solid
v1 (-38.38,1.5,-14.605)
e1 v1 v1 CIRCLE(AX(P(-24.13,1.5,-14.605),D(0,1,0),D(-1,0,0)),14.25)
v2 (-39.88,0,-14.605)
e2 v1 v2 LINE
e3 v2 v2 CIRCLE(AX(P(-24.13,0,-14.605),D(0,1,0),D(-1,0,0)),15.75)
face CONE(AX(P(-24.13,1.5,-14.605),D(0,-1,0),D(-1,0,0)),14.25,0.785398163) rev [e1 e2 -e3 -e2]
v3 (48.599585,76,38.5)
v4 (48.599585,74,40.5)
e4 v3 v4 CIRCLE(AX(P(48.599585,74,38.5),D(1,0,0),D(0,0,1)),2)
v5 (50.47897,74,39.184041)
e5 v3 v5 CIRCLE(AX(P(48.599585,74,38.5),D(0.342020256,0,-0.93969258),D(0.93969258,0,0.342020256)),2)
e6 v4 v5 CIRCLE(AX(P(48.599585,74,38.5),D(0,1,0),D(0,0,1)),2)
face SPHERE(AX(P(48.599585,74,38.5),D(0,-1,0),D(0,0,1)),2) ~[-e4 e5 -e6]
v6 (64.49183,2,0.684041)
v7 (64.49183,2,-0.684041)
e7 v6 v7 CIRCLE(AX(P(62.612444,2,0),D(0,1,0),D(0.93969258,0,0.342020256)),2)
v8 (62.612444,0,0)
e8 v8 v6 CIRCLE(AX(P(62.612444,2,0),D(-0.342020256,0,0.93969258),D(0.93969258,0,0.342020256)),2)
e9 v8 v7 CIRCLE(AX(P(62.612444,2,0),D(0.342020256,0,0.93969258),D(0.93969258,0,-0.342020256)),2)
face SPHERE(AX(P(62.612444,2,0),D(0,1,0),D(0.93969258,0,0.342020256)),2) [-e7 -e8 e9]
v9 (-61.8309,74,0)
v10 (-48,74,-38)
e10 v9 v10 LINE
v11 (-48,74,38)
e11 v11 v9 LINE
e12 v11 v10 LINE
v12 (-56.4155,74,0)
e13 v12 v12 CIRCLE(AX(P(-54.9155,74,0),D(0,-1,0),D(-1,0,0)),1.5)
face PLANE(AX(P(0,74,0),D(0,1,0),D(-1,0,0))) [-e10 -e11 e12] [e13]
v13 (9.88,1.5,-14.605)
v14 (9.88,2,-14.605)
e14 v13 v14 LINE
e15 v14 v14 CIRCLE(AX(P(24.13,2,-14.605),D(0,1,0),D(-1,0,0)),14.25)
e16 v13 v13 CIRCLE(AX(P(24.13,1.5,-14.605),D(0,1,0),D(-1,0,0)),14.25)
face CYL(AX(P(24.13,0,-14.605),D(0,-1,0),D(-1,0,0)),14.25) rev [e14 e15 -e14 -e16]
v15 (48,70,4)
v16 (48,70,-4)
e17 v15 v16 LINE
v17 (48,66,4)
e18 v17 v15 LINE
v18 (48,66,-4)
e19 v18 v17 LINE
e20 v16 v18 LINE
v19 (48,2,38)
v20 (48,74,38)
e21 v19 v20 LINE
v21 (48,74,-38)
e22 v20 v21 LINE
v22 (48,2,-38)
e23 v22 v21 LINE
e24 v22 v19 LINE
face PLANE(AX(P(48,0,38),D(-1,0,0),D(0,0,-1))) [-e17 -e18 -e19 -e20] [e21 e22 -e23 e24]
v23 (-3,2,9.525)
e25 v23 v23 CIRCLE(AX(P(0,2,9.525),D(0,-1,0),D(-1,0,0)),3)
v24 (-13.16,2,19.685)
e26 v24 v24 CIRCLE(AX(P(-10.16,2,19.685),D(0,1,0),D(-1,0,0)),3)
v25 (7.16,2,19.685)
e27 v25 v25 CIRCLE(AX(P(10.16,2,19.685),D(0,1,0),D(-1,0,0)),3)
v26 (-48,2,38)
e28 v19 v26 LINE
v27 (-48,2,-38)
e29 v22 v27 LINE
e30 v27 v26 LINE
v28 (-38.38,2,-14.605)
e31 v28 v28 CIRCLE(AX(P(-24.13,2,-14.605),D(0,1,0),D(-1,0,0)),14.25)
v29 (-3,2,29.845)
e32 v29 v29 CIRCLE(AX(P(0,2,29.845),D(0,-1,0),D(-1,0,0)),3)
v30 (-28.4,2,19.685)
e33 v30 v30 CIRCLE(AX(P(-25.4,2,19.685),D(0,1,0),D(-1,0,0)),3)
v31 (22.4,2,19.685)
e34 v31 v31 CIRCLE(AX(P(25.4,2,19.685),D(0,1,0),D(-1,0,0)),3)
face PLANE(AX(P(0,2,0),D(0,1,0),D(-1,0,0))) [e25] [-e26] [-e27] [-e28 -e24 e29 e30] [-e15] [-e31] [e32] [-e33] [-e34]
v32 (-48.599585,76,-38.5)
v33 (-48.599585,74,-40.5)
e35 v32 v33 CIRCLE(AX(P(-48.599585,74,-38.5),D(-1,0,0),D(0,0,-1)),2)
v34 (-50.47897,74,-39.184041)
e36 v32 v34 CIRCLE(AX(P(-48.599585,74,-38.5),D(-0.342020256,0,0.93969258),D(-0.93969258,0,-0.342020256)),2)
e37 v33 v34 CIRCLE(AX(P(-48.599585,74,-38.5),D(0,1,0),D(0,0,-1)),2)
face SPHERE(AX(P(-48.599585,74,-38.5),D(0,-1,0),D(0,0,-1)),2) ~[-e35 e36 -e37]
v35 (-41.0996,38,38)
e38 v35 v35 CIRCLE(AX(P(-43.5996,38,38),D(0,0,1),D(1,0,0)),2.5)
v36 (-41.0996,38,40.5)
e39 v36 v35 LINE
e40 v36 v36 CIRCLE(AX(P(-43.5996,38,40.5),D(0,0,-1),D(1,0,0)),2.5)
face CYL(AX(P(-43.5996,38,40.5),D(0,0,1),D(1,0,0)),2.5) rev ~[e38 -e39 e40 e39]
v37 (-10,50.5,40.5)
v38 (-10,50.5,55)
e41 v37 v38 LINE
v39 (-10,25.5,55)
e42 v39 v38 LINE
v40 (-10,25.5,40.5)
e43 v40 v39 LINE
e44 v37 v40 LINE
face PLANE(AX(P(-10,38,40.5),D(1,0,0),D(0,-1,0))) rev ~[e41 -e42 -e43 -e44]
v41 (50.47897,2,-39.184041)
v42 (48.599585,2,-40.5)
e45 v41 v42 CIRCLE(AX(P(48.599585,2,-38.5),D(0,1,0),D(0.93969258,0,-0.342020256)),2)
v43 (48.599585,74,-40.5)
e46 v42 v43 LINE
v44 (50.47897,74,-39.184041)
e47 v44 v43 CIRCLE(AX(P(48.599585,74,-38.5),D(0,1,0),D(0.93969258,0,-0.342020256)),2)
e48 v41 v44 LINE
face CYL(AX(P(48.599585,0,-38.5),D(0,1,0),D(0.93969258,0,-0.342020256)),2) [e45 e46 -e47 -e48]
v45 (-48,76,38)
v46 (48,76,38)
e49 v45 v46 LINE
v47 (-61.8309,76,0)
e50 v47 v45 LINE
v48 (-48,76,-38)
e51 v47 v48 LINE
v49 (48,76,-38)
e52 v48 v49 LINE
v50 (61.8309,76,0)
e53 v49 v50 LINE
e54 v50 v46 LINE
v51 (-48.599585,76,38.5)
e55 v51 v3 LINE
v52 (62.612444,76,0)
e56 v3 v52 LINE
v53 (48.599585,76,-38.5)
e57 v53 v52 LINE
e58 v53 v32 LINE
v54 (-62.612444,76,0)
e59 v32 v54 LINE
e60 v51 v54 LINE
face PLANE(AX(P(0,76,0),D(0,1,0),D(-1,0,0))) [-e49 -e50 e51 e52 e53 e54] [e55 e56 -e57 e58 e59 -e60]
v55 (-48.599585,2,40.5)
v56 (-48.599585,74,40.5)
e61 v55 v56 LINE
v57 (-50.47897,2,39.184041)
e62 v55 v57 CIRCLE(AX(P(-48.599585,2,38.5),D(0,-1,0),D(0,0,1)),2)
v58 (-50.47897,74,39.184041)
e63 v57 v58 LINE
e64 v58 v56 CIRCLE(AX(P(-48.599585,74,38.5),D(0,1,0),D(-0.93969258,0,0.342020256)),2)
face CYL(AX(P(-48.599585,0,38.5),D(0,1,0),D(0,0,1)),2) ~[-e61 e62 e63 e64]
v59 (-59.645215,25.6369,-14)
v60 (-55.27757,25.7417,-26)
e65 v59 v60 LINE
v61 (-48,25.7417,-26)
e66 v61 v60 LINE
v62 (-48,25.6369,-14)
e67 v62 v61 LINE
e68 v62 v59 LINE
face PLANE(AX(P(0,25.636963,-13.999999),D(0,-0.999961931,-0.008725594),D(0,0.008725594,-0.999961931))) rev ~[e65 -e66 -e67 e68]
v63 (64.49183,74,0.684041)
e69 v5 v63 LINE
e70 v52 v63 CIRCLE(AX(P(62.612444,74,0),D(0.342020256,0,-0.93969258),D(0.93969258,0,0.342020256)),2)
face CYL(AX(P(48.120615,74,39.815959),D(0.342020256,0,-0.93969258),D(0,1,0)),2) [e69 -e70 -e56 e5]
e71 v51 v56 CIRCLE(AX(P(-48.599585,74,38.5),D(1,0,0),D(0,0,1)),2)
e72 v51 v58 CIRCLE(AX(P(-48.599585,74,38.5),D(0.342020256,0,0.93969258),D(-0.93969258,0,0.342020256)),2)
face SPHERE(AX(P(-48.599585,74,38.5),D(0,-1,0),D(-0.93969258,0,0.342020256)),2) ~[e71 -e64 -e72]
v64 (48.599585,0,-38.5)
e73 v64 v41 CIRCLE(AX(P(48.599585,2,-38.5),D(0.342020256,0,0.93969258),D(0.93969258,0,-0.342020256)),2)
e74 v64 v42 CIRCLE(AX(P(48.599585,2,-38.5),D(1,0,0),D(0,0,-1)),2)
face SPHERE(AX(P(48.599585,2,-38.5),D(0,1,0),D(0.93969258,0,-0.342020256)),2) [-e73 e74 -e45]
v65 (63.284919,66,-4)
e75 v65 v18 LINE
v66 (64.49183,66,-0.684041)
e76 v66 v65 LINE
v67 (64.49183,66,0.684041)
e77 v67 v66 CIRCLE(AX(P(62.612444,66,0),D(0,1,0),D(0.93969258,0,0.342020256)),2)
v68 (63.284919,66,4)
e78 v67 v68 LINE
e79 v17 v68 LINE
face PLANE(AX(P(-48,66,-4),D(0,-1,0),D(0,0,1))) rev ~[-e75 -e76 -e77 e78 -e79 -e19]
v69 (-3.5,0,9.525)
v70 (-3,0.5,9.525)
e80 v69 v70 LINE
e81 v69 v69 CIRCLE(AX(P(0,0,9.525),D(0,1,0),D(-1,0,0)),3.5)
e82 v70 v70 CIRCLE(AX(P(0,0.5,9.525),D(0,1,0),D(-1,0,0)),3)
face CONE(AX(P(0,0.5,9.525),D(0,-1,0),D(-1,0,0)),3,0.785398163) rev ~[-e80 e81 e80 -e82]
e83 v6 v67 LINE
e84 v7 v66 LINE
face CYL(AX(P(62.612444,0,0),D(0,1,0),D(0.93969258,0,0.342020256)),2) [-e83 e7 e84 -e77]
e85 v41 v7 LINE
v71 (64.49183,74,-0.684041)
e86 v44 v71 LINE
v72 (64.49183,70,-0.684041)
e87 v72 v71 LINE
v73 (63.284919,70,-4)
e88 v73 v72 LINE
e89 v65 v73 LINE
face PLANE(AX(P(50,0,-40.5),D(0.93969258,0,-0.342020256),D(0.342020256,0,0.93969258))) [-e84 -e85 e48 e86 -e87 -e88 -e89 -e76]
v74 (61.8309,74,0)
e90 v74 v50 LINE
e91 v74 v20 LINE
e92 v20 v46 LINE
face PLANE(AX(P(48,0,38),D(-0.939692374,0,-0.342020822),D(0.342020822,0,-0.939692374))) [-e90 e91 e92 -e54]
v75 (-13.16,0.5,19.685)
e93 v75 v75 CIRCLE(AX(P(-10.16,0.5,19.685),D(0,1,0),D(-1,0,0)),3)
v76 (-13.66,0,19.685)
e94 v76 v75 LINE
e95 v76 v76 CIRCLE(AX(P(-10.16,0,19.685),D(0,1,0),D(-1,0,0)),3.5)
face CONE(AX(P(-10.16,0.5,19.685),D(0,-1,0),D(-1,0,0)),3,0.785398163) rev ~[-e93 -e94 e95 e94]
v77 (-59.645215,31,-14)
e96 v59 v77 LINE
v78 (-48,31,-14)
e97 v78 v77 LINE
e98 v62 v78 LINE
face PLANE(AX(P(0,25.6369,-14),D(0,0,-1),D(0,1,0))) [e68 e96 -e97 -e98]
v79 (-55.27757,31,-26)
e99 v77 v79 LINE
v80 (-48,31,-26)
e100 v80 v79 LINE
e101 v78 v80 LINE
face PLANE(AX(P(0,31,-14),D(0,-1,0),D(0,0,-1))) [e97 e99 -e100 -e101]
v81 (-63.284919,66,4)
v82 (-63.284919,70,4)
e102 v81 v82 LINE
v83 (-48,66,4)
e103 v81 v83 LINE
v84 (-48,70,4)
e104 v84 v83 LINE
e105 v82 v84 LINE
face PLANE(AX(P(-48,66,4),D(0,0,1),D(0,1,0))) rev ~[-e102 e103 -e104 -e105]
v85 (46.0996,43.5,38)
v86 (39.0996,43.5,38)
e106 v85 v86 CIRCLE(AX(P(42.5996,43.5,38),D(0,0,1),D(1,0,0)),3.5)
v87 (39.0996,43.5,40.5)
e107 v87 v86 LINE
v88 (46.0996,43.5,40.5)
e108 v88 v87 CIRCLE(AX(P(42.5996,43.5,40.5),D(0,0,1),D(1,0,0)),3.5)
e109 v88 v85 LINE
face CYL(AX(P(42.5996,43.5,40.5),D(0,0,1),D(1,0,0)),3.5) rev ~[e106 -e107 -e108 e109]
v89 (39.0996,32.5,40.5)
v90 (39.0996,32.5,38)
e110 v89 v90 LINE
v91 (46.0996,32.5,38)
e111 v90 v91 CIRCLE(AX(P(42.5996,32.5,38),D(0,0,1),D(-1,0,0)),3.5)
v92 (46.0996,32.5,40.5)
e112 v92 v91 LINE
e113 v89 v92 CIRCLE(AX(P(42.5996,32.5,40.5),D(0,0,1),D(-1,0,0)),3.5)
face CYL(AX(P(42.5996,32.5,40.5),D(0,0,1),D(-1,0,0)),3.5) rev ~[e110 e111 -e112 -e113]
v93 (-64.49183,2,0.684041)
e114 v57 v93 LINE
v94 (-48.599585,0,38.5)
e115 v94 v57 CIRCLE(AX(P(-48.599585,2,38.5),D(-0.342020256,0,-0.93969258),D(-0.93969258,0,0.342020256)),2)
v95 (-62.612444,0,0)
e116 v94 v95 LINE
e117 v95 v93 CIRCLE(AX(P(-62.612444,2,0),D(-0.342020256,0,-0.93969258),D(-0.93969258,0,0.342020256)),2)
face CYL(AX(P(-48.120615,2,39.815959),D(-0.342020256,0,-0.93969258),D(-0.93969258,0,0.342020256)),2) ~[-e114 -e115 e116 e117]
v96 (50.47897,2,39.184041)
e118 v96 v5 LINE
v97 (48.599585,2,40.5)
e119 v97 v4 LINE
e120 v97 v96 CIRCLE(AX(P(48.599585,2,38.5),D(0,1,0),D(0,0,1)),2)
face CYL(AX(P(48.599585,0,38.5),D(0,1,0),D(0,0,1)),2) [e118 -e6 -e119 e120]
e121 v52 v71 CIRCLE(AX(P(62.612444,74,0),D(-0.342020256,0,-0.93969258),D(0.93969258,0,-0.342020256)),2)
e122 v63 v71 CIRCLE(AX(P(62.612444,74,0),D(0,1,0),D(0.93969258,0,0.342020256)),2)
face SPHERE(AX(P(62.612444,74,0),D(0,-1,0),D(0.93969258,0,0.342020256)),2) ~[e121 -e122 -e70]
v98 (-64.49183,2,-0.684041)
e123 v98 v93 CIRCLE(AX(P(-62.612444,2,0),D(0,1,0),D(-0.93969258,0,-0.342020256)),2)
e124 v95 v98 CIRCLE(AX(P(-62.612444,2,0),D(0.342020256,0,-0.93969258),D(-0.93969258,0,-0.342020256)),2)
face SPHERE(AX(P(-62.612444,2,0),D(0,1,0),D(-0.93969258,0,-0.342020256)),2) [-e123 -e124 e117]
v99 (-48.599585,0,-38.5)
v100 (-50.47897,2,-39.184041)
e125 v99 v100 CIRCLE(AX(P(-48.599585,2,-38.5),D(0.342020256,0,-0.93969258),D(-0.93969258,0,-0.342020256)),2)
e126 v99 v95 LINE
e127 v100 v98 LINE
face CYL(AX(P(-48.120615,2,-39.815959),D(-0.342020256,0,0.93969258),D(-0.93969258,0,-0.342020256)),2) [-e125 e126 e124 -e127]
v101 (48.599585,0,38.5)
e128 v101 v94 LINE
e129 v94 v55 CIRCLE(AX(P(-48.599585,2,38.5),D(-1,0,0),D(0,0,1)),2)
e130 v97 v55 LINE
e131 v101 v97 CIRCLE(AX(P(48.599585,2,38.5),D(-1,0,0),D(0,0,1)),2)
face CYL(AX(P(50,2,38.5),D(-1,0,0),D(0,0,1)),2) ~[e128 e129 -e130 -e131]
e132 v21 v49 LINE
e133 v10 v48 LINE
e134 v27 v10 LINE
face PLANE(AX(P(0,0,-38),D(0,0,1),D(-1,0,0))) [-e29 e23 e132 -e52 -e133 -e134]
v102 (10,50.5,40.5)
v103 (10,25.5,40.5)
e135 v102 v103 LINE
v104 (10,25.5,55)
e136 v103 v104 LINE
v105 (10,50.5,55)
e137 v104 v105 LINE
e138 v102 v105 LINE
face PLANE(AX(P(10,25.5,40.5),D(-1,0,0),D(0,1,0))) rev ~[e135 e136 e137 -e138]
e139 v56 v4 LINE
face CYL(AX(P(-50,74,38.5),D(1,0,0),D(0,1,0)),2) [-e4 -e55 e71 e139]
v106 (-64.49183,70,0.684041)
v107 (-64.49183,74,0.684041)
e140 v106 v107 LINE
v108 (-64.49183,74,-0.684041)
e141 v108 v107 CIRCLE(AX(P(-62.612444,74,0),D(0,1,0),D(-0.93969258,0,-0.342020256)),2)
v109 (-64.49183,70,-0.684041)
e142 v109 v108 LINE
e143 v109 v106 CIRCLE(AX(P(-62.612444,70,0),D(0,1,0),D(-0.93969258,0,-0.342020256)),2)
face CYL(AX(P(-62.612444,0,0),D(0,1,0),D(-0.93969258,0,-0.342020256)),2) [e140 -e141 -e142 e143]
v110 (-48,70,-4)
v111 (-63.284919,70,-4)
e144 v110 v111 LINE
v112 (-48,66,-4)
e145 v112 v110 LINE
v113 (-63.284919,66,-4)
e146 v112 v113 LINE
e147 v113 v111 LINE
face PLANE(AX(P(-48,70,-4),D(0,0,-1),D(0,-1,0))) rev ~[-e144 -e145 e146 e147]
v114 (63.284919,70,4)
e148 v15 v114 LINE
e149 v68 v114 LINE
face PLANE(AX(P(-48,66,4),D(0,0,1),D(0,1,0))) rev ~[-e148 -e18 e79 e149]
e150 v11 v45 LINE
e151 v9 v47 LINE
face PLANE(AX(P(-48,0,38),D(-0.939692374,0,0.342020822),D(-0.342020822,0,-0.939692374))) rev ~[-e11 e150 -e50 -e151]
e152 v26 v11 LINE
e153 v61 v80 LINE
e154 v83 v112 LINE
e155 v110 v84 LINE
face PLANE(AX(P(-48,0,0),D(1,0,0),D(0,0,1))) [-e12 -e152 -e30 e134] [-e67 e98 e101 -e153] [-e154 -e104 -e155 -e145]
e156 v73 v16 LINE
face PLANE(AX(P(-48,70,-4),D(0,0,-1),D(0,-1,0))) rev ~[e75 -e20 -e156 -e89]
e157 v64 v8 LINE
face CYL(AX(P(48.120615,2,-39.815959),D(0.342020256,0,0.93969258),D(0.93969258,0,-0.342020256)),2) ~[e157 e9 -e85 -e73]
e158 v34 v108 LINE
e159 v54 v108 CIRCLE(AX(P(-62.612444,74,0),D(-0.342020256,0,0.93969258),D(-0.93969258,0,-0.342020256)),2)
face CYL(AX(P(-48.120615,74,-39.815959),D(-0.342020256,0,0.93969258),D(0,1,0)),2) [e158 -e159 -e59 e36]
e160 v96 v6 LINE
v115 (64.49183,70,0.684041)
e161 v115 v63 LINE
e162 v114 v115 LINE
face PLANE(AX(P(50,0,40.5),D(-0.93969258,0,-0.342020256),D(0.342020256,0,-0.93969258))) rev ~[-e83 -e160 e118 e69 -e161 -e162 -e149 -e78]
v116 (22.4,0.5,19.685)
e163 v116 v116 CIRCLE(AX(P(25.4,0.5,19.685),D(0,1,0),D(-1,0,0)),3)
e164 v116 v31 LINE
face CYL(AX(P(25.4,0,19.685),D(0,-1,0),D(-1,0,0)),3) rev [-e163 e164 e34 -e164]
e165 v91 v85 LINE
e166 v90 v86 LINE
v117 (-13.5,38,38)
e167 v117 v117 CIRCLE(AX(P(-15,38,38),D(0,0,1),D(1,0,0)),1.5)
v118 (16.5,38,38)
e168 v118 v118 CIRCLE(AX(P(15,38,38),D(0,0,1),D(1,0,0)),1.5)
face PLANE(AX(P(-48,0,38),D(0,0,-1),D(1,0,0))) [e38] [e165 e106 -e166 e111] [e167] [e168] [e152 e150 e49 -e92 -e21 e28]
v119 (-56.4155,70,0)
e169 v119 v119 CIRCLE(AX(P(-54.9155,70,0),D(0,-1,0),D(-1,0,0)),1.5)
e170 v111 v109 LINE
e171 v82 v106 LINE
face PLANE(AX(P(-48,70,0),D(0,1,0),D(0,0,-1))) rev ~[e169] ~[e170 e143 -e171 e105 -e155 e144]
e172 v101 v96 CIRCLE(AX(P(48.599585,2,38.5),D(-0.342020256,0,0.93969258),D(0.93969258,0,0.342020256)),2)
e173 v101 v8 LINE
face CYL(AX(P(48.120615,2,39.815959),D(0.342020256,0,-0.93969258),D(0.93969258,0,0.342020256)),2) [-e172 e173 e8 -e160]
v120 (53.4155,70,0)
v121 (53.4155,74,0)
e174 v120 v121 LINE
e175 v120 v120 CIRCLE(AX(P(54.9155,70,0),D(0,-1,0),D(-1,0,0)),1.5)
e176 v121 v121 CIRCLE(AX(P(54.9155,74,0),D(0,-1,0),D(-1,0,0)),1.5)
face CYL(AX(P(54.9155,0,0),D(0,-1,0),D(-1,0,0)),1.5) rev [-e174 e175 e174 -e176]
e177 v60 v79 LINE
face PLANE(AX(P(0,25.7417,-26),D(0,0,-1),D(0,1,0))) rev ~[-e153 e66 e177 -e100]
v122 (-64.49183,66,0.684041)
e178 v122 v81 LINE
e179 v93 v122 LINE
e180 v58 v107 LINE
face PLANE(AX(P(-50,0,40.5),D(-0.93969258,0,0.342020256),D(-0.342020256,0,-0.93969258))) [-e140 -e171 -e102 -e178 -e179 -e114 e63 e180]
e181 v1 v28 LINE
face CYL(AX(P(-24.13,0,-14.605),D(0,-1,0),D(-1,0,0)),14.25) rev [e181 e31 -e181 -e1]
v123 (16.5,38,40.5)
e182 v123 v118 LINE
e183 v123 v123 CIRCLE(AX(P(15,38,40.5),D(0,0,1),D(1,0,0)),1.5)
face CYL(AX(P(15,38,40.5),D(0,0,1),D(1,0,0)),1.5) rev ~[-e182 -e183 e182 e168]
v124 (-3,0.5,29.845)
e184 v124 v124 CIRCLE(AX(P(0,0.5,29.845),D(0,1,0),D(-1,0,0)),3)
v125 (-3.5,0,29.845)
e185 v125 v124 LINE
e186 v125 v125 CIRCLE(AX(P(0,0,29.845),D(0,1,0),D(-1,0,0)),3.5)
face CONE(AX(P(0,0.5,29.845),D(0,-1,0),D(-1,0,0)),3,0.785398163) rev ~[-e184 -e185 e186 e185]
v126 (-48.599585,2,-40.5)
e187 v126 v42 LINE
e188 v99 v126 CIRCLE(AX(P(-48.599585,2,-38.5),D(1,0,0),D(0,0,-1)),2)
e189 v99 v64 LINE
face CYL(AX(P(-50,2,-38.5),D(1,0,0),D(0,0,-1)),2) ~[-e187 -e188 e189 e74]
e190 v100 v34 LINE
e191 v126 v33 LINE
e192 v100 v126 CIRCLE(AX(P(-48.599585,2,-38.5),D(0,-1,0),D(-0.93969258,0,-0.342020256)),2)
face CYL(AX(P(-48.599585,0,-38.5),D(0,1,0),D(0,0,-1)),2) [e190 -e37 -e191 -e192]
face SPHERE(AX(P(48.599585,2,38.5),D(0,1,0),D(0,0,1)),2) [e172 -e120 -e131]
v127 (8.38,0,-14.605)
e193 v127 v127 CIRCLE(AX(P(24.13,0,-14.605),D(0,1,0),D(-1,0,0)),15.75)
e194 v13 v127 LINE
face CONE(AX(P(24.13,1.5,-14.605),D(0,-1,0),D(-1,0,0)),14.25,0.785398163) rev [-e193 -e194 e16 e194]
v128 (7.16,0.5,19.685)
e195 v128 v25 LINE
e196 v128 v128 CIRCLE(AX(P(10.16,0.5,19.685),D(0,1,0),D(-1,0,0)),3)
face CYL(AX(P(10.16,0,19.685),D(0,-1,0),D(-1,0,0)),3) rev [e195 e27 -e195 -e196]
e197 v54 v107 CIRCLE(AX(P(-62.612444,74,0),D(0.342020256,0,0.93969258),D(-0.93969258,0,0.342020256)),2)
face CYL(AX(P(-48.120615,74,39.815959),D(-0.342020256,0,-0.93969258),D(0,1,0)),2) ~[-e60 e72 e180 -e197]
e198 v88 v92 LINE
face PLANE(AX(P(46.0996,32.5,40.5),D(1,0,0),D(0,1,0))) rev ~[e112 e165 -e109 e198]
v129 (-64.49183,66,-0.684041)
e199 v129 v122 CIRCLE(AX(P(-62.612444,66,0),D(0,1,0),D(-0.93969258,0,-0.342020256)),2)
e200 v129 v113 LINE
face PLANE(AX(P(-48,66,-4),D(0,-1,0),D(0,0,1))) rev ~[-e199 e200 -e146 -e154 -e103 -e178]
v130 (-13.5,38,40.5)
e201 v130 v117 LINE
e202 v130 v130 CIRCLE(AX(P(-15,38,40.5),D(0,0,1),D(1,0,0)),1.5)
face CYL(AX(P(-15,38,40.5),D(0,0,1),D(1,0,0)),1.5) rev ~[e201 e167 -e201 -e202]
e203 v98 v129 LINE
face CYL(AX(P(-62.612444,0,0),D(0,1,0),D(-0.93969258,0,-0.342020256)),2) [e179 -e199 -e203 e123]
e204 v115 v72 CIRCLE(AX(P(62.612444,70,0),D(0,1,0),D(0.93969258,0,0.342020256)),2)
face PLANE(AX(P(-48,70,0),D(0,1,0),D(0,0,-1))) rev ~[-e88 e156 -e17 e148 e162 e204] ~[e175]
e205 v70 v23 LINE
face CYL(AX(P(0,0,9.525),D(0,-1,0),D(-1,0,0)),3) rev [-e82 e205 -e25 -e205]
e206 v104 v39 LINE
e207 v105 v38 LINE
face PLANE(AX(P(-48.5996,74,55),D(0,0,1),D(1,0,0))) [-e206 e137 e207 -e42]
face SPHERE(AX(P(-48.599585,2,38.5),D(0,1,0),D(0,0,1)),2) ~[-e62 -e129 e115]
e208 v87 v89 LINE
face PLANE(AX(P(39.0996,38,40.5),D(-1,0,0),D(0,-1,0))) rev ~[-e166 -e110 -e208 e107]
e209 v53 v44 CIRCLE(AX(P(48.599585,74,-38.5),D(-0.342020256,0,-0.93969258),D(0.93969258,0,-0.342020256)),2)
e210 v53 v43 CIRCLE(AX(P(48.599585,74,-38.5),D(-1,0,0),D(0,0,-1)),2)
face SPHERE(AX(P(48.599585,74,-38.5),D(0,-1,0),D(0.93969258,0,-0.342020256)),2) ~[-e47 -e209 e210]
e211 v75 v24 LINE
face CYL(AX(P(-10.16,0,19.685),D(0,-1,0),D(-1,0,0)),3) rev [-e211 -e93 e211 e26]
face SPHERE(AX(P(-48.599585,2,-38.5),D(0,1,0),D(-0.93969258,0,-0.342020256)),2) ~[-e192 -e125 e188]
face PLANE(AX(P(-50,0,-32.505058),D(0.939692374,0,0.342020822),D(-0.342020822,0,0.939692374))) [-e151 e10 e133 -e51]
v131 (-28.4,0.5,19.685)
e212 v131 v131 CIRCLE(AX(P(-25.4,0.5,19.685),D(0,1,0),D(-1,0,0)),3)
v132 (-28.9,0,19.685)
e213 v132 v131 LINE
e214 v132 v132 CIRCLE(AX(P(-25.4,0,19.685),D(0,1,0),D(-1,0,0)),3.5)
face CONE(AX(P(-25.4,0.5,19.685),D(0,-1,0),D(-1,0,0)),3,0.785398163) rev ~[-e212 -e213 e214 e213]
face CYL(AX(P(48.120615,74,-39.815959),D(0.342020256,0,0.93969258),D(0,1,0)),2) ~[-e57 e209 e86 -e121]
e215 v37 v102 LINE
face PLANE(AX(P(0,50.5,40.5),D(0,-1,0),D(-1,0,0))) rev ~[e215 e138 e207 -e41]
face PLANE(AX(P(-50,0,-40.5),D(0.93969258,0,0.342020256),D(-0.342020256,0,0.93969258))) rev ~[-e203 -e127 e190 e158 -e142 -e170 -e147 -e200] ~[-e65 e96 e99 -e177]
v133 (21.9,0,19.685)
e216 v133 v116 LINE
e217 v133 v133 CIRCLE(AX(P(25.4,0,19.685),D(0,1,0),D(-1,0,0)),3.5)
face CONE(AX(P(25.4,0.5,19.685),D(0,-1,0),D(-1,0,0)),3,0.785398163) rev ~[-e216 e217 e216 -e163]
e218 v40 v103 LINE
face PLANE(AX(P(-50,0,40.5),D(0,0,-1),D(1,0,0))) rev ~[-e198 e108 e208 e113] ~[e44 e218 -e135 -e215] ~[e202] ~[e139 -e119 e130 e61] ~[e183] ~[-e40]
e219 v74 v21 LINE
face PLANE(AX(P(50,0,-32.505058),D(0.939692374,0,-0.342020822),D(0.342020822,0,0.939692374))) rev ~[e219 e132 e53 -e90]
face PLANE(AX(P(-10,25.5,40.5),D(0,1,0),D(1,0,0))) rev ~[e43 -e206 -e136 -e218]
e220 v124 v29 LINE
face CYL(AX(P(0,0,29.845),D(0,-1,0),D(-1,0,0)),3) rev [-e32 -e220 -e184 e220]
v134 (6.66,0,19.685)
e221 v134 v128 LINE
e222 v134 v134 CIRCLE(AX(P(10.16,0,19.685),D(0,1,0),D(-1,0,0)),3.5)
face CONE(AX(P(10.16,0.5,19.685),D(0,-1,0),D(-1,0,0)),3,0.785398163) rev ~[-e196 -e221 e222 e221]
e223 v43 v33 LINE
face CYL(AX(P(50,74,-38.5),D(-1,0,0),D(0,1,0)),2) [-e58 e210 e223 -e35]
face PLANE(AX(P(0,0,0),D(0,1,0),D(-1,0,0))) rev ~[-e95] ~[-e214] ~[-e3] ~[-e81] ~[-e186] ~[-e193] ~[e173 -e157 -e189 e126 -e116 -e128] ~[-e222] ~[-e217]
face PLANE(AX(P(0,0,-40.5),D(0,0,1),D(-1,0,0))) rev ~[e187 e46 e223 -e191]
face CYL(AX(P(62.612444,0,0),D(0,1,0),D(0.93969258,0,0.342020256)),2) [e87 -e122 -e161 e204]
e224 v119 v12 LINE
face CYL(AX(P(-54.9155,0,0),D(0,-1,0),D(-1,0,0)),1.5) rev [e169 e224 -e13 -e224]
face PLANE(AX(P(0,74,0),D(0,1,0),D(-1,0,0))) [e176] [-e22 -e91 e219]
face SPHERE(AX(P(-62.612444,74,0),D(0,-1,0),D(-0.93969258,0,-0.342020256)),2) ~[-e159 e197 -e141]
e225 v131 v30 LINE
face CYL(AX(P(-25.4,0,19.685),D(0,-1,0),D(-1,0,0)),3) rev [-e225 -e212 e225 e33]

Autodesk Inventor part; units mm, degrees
ref_plane "YZ Plane" through (0, 0, 0) normal (1, 0, 0) x (0, 1, 0)
ref_plane "XZ Plane" through (0, 0, 0) normal (0, 1, 0) x (-1, 0, 0)
ref_plane "XY Plane" through (0, 0, 0) normal (0, 0, 1) x (1, 0, 0)
sketch "Sketch4" plane through (0, 0, 0) normal (0, 1, 0) x (-1, 0, 0)
  line L0 (50, 40.5) -> (-50, 40.5)
  line L1 (-50, 40.5) -> (-50, -40.5)
  line L2 (-50, -40.5) -> (50, -40.5)
  line L3 (50, -40.5) -> (50, 40.5)
  line L4 (50, 40.5) -> (-50, -40.5) construction
  line L5 (-50, 40.5) -> (50, -40.5) construction
  line L6 (45.72, 36.195) -> (-45.72, 36.195)
  line L7 (-45.72, 36.195) -> (-45.72, -36.195)
  line L8 (-45.72, -36.195) -> (45.72, -36.195)
  line L9 (45.72, -36.195) -> (45.72, 36.195)
  line L10 (45.72, 36.195) -> (-45.72, -36.195) construction
  line L11 (-45.72, 36.195) -> (45.72, -36.195) construction
  line L12 (48, 38) -> (-48, 38)
  line L13 (-48, 38) -> (-48, -38)
  line L14 (-48, -38) -> (48, -38)
  line L15 (48, -38) -> (48, 38)
  line L16 (48, 38) -> (-48, -38) construction
  line L17 (-48, 38) -> (48, -38) construction
  line L18 (-50, 40.5) -> (-64.7408, 0)
  line L19 (-50, 40.5) -> (-6.9008, 40.5) construction
  line L20 (-50, -40.5) -> (-64.7408, 0)
  line L21 (-50, -40.5) -> (-6.9008, -40.5) construction
  line L22 (0, 0) -> (72.39, 0) construction
  line L23 (0, -40.5) -> (0, 40.5)
  line L24 (50, 40.5) -> (64.7408, 0)
  line L25 (50, -40.5) -> (64.7408, 0)
  line L26 (64.7408, 0) -> (-64.7408, 0)
  circle A0 centre (25.4, 19.685) radius 3
  circle A1 centre (10.16, 19.685) radius 3
  circle A2 centre (-25.4, 19.685) radius 3
  circle A3 centre (-10.16, 19.685) radius 3
  circle A4 centre (0, 29.845) radius 3
  circle A5 centre (0, 9.525) radius 3
  line L27 (45.72, -36.195) -> (48.26, -36.195) construction
  line L28 (43.18, -33.655) -> (5.08, -33.655)
  line L29 (5.08, -33.655) -> (5.08, 4.445)
  line L30 (5.08, 4.445) -> (43.18, 4.445)
  line L31 (43.18, 4.445) -> (43.18, -33.655)
  line L32 (5.08, -14.605) -> (24.13, -14.605) construction
  circle A6 centre (24.13, -14.605) radius 14.25
  line L33 (-43.18, -33.655) -> (-5.08, -33.655)
  line L34 (-5.08, -33.655) -> (-5.08, 4.445)
  line L35 (-5.08, 4.445) -> (-43.18, 4.445)
  line L36 (-43.18, 4.445) -> (-43.18, -33.655)
  circle A7 centre (-24.13, -14.605) radius 14.25
  line L37 (-48, -38) -> (-61.8309, 0)
  line L38 (-48, -38) -> (-7.5612, -38) construction
  line L39 (-48, 38) -> (-61.8309, 0)
  line L40 (-48, 38) -> (-7.5612, 38) construction
  line L41 (48, -38) -> (61.8309, 0)
  line L42 (48, 38) -> (61.8309, 0)
  circle A8 centre (54.9155, 0) radius 1.5
  circle A9 centre (-54.9155, 0) radius 1.5
  point P0 (0, 36.195)
  dimension "d52" = 100
  dimension "d53" = 81
  dimension "d54" = 91.44
  dimension "d55" = 72.39
  dimension "d56" = 96
  dimension "d57" = 76
  dimension "d58" = 110
  dimension "d59" = 110
  dimension "d62" = 6
  dimension "d63" = 20.32
  dimension "d64" = 16.51
  dimension "d65" = 6
  dimension "d66" = 15.24
  dimension "d67" = 6
  dimension "d68" = 6.35
  dimension "d69" = 6
  dimension "d70" = 20.32
  dimension "d73" = 38.1
  dimension "d74" = 38.1
  dimension "d75" = 2.54
  dimension "d76" = 2.54
  dimension "d79" = 28.5
  dimension "d83" = 110
  dimension "d84" = 110
  dimension "d86" = 3
  dimension "d112" = 54.9155
extrude "Extrusion7" add sketch "Sketch4" along normal blind 76 contours L3 L42 L12 L23 L0 | L24 L26 L42 L3 | L23 L12 L39 L1 L0 | L25 L3 L41 L26 | L1 L39 L26 L18 | L2 L23 L14 L41 L3 | L26 L37 L1 L20 | L2 L1 L37 L14 L23
extrude "Extrusion8" add sketch "Sketch4" along normal blind 74 contours L42 L26 A8 L3 | L3 L26 L15 L42 | L26 A8 L41 L3 | L3 L41 L15 L26 | L39 L13 L26 L1 | L1 L26 A9 L39 | L26 L13 L37 L1 | L1 L37 L26 A9
fillet "Fillet4" radius 2 18 edges at (0, 0, -40.5) (-50, 38, -40.5) (0, 76, -40.5) (50, 38, -40.5) (57.3704, 0, -20.25) (57.3704, 76, -20.25) (64.7408, 38, 0) (57.3704, 0, 20.25) (57.3704, 76, 20.25) (50, 38, 40.5) (-57.3704, 0, 20.25) (-50, 38, 40.5) (-57.3704, 76, 20.25) (-64.7408, 38, 0) (0, 0, 40.5) (-57.3704, 0, -20.25) (0, 76, 40.5) (-57.3704, 76, -20.25)
extrude "Extrusion11" add sketch "Sketch4" along normal blind 70 contours A8 L26 | L26 A8 | A9 L26 | L26 A9
sketch "Sketch5" plane through (-48.5996, 74, 40.5) normal (0, 0, 1) x (1, 0, 0)
  line L0 (0, -72) -> (97.1992, -72) projected
  line L1 (97.1992, -72) -> (0, -72)
  line L2 (97.1992, 0) -> (0, 0) projected
  line L3 (0, -72) -> (0, 0)
  line L4 (0, 0) -> (97.1992, 0)
  line L5 (97.1992, 0) -> (97.1992, -72)
  line L6 (97.1992, -36) -> (0, -36)
  line L7 (48.5996, -72) -> (48.5996, 0)
  line L8 (58.5996, -23.5) -> (38.5996, -23.5)
  line L9 (38.5996, -23.5) -> (38.5996, -48.5)
  line L10 (38.5996, -48.5) -> (58.5996, -48.5)
  line L11 (58.5996, -48.5) -> (58.5996, -23.5)
  line L12 (58.5996, -23.5) -> (38.5996, -48.5) construction
  line L13 (38.5996, -23.5) -> (58.5996, -48.5) construction
  circle A0 centre (33.5996, -36) radius 1.5
  circle A1 centre (63.5996, -36) radius 1.5
  line L14 (67.8423, -21) -> (29.3569, -21)
  line L15 (29.3569, -21) -> (29.3569, -51)
  line L16 (29.3569, -51) -> (67.8423, -51)
  line L17 (67.8423, -51) -> (67.8423, -21)
  line L18 (67.8423, -21) -> (29.3569, -51) construction
  line L19 (29.3569, -21) -> (67.8423, -51) construction
  line L20 (91.1992, -30.5) -> (91.1992, -41.5) construction
  line L21 (87.6992, -30.5) -> (87.6992, -41.5)
  line L22 (94.6992, -41.5) -> (94.6992, -30.5)
  arc A2 (94.6992, -30.5) -> (87.6992, -30.5) centre (91.1992, -30.5) ccw
  arc A3 (87.6992, -41.5) -> (94.6992, -41.5) centre (91.1992, -41.5) ccw
  line L23 (97.1992, 0) -> (97.1992, -72) projected
  circle A4 centre (5, -36) radius 2.5
  line L24 (0, -72) -> (0, 0) projected
  point P0 (48.5996, -74)
  point P1 (48.5996, -36)
  point P2 (91.1992, -36)
  dimension "d115" = 20
  dimension "d118" = 3
  dimension "d119" = 15
  dimension "d134" = 25
  dimension "d135" = 30
  dimension "d176" = 5.5
  dimension "d177" = 7
  dimension "d178" = 6
  dimension "d179" = 5
  dimension "d180" = 5
extrude "Extrusion12" add sketch "Sketch5" along normal blind 14.5 contours L10 L9 L6 L7 | L7 L6 L11 L10 | L7 L8 L11 L6 | L6 L9 L8 L7
extrude "Extrusion14" cut sketch "Sketch5" along normal blind 10 and the other way blind 5 contours A0 L6 | L6 A0 | A1 L6 | L6 A1
extrude "Extrusion15" add sketch "Sketch4" along normal blind 2 contours L23 L6 L7 L26 L13 L12 | L12 L15 L26 L9 L6 L23 | L23 A4 A5 L26 L34 L35 L36 L7 L6 | L6 L9 L26 L31 L30 L29 L23 A5 A4 | L15 L14 L23 L8 L9 L26 | L26 L7 L8 L23 L14 L13 | L9 L8 L23 L26 L29 L28 L31 | L26 L36 L33 L34 L23 L8 L7 | L31 L28 L29 L26 | L26 L29 L30 L31 | L36 L35 L34 L26 | L26 L34 L33 L36
chamfer "Chamfer10" distance 1.5 angle 45 2 edges at (38.38, 0, -14.605) (-9.88, 0, -14.605)
chamfer "Chamfer11" distance 0.5 angle 45 6 edges at (28.4, 0, 19.685) (13.16, 0, 19.685) (3, 0, 9.525) (-7.16, 0, 19.685) (3, 0, 29.845) (-22.4, 0, 19.685)
extrude "Extrusion16" cut sketch "Sketch5" against normal up to surface (2.5 mm away) contours A4 L6 | L6 A4 | L22 A3 L21 L6 | L6 L21 A2 L22
sketch "Sketch6" plane through (-48, 74, 38) normal (1, 0, 0) x (0, 0, -1)
  line L0 (38, -4) -> (42, -4)
  line L1 (42, -4) -> (42, -8)
  line L2 (42, -8) -> (38, -8)
  line L3 (38, -8) -> (38, -4)
  line L4 (38, -4) -> (38, -8)
  line L5 (38, -8) -> (34, -8)
  line L6 (34, -8) -> (34, -4)
  line L7 (34, -4) -> (38, -4)
  line L8 (0, 0) -> (76, 0) projected
  point P0 (38, -74)
  point P1 (38, 0)
  dimension "d183" = 4
  dimension "d184" = 4
  dimension "d185" = 4
  dimension "d186" = 4
extrude "Extrusion17" cut sketch "Sketch6" along normal through all both and the other way through all
sketch "Sketch7" plane through (0, 0, 0) normal (1, 0, 0) x (0, 1, 0)
  line L0 (0, 0) -> (0, 38.5) projected
  line L1 (74, 0) -> (76, 0) projected
  line L2 (0, 0) -> (76, 0)
  line L3 (0, 0) -> (76, 0)
  line L4 (76, 0) -> (76, -40.5)
  line L5 (76, -40.5) -> (0, -40.5)
  line L6 (0, -40.5) -> (0, 0)
  line L7 (76, 0) -> (76, 40.5)
  line L8 (76, 40.5) -> (0, 40.5)
  line L9 (0, 40.5) -> (0, 0)
  line L10 (31, 0) -> (31, -40.5)
  line L11 (25.5148, 0) -> (25.8682, -40.5)
  line L12 (25.6369, -14) -> (31, -14)
  line L13 (25.7417, -26) -> (31.062, -26)
  point P0 (31, -26)
  dimension "d189" = 40.5
  dimension "d190" = 45
  dimension "d191" = 0.5
  dimension "d192" = 14
  dimension "d193" = 12
extrude "Extrusion18" cut sketch "Sketch7" against normal through all contours L12 L10 L13 L11
properties part number "ControllerHead"
